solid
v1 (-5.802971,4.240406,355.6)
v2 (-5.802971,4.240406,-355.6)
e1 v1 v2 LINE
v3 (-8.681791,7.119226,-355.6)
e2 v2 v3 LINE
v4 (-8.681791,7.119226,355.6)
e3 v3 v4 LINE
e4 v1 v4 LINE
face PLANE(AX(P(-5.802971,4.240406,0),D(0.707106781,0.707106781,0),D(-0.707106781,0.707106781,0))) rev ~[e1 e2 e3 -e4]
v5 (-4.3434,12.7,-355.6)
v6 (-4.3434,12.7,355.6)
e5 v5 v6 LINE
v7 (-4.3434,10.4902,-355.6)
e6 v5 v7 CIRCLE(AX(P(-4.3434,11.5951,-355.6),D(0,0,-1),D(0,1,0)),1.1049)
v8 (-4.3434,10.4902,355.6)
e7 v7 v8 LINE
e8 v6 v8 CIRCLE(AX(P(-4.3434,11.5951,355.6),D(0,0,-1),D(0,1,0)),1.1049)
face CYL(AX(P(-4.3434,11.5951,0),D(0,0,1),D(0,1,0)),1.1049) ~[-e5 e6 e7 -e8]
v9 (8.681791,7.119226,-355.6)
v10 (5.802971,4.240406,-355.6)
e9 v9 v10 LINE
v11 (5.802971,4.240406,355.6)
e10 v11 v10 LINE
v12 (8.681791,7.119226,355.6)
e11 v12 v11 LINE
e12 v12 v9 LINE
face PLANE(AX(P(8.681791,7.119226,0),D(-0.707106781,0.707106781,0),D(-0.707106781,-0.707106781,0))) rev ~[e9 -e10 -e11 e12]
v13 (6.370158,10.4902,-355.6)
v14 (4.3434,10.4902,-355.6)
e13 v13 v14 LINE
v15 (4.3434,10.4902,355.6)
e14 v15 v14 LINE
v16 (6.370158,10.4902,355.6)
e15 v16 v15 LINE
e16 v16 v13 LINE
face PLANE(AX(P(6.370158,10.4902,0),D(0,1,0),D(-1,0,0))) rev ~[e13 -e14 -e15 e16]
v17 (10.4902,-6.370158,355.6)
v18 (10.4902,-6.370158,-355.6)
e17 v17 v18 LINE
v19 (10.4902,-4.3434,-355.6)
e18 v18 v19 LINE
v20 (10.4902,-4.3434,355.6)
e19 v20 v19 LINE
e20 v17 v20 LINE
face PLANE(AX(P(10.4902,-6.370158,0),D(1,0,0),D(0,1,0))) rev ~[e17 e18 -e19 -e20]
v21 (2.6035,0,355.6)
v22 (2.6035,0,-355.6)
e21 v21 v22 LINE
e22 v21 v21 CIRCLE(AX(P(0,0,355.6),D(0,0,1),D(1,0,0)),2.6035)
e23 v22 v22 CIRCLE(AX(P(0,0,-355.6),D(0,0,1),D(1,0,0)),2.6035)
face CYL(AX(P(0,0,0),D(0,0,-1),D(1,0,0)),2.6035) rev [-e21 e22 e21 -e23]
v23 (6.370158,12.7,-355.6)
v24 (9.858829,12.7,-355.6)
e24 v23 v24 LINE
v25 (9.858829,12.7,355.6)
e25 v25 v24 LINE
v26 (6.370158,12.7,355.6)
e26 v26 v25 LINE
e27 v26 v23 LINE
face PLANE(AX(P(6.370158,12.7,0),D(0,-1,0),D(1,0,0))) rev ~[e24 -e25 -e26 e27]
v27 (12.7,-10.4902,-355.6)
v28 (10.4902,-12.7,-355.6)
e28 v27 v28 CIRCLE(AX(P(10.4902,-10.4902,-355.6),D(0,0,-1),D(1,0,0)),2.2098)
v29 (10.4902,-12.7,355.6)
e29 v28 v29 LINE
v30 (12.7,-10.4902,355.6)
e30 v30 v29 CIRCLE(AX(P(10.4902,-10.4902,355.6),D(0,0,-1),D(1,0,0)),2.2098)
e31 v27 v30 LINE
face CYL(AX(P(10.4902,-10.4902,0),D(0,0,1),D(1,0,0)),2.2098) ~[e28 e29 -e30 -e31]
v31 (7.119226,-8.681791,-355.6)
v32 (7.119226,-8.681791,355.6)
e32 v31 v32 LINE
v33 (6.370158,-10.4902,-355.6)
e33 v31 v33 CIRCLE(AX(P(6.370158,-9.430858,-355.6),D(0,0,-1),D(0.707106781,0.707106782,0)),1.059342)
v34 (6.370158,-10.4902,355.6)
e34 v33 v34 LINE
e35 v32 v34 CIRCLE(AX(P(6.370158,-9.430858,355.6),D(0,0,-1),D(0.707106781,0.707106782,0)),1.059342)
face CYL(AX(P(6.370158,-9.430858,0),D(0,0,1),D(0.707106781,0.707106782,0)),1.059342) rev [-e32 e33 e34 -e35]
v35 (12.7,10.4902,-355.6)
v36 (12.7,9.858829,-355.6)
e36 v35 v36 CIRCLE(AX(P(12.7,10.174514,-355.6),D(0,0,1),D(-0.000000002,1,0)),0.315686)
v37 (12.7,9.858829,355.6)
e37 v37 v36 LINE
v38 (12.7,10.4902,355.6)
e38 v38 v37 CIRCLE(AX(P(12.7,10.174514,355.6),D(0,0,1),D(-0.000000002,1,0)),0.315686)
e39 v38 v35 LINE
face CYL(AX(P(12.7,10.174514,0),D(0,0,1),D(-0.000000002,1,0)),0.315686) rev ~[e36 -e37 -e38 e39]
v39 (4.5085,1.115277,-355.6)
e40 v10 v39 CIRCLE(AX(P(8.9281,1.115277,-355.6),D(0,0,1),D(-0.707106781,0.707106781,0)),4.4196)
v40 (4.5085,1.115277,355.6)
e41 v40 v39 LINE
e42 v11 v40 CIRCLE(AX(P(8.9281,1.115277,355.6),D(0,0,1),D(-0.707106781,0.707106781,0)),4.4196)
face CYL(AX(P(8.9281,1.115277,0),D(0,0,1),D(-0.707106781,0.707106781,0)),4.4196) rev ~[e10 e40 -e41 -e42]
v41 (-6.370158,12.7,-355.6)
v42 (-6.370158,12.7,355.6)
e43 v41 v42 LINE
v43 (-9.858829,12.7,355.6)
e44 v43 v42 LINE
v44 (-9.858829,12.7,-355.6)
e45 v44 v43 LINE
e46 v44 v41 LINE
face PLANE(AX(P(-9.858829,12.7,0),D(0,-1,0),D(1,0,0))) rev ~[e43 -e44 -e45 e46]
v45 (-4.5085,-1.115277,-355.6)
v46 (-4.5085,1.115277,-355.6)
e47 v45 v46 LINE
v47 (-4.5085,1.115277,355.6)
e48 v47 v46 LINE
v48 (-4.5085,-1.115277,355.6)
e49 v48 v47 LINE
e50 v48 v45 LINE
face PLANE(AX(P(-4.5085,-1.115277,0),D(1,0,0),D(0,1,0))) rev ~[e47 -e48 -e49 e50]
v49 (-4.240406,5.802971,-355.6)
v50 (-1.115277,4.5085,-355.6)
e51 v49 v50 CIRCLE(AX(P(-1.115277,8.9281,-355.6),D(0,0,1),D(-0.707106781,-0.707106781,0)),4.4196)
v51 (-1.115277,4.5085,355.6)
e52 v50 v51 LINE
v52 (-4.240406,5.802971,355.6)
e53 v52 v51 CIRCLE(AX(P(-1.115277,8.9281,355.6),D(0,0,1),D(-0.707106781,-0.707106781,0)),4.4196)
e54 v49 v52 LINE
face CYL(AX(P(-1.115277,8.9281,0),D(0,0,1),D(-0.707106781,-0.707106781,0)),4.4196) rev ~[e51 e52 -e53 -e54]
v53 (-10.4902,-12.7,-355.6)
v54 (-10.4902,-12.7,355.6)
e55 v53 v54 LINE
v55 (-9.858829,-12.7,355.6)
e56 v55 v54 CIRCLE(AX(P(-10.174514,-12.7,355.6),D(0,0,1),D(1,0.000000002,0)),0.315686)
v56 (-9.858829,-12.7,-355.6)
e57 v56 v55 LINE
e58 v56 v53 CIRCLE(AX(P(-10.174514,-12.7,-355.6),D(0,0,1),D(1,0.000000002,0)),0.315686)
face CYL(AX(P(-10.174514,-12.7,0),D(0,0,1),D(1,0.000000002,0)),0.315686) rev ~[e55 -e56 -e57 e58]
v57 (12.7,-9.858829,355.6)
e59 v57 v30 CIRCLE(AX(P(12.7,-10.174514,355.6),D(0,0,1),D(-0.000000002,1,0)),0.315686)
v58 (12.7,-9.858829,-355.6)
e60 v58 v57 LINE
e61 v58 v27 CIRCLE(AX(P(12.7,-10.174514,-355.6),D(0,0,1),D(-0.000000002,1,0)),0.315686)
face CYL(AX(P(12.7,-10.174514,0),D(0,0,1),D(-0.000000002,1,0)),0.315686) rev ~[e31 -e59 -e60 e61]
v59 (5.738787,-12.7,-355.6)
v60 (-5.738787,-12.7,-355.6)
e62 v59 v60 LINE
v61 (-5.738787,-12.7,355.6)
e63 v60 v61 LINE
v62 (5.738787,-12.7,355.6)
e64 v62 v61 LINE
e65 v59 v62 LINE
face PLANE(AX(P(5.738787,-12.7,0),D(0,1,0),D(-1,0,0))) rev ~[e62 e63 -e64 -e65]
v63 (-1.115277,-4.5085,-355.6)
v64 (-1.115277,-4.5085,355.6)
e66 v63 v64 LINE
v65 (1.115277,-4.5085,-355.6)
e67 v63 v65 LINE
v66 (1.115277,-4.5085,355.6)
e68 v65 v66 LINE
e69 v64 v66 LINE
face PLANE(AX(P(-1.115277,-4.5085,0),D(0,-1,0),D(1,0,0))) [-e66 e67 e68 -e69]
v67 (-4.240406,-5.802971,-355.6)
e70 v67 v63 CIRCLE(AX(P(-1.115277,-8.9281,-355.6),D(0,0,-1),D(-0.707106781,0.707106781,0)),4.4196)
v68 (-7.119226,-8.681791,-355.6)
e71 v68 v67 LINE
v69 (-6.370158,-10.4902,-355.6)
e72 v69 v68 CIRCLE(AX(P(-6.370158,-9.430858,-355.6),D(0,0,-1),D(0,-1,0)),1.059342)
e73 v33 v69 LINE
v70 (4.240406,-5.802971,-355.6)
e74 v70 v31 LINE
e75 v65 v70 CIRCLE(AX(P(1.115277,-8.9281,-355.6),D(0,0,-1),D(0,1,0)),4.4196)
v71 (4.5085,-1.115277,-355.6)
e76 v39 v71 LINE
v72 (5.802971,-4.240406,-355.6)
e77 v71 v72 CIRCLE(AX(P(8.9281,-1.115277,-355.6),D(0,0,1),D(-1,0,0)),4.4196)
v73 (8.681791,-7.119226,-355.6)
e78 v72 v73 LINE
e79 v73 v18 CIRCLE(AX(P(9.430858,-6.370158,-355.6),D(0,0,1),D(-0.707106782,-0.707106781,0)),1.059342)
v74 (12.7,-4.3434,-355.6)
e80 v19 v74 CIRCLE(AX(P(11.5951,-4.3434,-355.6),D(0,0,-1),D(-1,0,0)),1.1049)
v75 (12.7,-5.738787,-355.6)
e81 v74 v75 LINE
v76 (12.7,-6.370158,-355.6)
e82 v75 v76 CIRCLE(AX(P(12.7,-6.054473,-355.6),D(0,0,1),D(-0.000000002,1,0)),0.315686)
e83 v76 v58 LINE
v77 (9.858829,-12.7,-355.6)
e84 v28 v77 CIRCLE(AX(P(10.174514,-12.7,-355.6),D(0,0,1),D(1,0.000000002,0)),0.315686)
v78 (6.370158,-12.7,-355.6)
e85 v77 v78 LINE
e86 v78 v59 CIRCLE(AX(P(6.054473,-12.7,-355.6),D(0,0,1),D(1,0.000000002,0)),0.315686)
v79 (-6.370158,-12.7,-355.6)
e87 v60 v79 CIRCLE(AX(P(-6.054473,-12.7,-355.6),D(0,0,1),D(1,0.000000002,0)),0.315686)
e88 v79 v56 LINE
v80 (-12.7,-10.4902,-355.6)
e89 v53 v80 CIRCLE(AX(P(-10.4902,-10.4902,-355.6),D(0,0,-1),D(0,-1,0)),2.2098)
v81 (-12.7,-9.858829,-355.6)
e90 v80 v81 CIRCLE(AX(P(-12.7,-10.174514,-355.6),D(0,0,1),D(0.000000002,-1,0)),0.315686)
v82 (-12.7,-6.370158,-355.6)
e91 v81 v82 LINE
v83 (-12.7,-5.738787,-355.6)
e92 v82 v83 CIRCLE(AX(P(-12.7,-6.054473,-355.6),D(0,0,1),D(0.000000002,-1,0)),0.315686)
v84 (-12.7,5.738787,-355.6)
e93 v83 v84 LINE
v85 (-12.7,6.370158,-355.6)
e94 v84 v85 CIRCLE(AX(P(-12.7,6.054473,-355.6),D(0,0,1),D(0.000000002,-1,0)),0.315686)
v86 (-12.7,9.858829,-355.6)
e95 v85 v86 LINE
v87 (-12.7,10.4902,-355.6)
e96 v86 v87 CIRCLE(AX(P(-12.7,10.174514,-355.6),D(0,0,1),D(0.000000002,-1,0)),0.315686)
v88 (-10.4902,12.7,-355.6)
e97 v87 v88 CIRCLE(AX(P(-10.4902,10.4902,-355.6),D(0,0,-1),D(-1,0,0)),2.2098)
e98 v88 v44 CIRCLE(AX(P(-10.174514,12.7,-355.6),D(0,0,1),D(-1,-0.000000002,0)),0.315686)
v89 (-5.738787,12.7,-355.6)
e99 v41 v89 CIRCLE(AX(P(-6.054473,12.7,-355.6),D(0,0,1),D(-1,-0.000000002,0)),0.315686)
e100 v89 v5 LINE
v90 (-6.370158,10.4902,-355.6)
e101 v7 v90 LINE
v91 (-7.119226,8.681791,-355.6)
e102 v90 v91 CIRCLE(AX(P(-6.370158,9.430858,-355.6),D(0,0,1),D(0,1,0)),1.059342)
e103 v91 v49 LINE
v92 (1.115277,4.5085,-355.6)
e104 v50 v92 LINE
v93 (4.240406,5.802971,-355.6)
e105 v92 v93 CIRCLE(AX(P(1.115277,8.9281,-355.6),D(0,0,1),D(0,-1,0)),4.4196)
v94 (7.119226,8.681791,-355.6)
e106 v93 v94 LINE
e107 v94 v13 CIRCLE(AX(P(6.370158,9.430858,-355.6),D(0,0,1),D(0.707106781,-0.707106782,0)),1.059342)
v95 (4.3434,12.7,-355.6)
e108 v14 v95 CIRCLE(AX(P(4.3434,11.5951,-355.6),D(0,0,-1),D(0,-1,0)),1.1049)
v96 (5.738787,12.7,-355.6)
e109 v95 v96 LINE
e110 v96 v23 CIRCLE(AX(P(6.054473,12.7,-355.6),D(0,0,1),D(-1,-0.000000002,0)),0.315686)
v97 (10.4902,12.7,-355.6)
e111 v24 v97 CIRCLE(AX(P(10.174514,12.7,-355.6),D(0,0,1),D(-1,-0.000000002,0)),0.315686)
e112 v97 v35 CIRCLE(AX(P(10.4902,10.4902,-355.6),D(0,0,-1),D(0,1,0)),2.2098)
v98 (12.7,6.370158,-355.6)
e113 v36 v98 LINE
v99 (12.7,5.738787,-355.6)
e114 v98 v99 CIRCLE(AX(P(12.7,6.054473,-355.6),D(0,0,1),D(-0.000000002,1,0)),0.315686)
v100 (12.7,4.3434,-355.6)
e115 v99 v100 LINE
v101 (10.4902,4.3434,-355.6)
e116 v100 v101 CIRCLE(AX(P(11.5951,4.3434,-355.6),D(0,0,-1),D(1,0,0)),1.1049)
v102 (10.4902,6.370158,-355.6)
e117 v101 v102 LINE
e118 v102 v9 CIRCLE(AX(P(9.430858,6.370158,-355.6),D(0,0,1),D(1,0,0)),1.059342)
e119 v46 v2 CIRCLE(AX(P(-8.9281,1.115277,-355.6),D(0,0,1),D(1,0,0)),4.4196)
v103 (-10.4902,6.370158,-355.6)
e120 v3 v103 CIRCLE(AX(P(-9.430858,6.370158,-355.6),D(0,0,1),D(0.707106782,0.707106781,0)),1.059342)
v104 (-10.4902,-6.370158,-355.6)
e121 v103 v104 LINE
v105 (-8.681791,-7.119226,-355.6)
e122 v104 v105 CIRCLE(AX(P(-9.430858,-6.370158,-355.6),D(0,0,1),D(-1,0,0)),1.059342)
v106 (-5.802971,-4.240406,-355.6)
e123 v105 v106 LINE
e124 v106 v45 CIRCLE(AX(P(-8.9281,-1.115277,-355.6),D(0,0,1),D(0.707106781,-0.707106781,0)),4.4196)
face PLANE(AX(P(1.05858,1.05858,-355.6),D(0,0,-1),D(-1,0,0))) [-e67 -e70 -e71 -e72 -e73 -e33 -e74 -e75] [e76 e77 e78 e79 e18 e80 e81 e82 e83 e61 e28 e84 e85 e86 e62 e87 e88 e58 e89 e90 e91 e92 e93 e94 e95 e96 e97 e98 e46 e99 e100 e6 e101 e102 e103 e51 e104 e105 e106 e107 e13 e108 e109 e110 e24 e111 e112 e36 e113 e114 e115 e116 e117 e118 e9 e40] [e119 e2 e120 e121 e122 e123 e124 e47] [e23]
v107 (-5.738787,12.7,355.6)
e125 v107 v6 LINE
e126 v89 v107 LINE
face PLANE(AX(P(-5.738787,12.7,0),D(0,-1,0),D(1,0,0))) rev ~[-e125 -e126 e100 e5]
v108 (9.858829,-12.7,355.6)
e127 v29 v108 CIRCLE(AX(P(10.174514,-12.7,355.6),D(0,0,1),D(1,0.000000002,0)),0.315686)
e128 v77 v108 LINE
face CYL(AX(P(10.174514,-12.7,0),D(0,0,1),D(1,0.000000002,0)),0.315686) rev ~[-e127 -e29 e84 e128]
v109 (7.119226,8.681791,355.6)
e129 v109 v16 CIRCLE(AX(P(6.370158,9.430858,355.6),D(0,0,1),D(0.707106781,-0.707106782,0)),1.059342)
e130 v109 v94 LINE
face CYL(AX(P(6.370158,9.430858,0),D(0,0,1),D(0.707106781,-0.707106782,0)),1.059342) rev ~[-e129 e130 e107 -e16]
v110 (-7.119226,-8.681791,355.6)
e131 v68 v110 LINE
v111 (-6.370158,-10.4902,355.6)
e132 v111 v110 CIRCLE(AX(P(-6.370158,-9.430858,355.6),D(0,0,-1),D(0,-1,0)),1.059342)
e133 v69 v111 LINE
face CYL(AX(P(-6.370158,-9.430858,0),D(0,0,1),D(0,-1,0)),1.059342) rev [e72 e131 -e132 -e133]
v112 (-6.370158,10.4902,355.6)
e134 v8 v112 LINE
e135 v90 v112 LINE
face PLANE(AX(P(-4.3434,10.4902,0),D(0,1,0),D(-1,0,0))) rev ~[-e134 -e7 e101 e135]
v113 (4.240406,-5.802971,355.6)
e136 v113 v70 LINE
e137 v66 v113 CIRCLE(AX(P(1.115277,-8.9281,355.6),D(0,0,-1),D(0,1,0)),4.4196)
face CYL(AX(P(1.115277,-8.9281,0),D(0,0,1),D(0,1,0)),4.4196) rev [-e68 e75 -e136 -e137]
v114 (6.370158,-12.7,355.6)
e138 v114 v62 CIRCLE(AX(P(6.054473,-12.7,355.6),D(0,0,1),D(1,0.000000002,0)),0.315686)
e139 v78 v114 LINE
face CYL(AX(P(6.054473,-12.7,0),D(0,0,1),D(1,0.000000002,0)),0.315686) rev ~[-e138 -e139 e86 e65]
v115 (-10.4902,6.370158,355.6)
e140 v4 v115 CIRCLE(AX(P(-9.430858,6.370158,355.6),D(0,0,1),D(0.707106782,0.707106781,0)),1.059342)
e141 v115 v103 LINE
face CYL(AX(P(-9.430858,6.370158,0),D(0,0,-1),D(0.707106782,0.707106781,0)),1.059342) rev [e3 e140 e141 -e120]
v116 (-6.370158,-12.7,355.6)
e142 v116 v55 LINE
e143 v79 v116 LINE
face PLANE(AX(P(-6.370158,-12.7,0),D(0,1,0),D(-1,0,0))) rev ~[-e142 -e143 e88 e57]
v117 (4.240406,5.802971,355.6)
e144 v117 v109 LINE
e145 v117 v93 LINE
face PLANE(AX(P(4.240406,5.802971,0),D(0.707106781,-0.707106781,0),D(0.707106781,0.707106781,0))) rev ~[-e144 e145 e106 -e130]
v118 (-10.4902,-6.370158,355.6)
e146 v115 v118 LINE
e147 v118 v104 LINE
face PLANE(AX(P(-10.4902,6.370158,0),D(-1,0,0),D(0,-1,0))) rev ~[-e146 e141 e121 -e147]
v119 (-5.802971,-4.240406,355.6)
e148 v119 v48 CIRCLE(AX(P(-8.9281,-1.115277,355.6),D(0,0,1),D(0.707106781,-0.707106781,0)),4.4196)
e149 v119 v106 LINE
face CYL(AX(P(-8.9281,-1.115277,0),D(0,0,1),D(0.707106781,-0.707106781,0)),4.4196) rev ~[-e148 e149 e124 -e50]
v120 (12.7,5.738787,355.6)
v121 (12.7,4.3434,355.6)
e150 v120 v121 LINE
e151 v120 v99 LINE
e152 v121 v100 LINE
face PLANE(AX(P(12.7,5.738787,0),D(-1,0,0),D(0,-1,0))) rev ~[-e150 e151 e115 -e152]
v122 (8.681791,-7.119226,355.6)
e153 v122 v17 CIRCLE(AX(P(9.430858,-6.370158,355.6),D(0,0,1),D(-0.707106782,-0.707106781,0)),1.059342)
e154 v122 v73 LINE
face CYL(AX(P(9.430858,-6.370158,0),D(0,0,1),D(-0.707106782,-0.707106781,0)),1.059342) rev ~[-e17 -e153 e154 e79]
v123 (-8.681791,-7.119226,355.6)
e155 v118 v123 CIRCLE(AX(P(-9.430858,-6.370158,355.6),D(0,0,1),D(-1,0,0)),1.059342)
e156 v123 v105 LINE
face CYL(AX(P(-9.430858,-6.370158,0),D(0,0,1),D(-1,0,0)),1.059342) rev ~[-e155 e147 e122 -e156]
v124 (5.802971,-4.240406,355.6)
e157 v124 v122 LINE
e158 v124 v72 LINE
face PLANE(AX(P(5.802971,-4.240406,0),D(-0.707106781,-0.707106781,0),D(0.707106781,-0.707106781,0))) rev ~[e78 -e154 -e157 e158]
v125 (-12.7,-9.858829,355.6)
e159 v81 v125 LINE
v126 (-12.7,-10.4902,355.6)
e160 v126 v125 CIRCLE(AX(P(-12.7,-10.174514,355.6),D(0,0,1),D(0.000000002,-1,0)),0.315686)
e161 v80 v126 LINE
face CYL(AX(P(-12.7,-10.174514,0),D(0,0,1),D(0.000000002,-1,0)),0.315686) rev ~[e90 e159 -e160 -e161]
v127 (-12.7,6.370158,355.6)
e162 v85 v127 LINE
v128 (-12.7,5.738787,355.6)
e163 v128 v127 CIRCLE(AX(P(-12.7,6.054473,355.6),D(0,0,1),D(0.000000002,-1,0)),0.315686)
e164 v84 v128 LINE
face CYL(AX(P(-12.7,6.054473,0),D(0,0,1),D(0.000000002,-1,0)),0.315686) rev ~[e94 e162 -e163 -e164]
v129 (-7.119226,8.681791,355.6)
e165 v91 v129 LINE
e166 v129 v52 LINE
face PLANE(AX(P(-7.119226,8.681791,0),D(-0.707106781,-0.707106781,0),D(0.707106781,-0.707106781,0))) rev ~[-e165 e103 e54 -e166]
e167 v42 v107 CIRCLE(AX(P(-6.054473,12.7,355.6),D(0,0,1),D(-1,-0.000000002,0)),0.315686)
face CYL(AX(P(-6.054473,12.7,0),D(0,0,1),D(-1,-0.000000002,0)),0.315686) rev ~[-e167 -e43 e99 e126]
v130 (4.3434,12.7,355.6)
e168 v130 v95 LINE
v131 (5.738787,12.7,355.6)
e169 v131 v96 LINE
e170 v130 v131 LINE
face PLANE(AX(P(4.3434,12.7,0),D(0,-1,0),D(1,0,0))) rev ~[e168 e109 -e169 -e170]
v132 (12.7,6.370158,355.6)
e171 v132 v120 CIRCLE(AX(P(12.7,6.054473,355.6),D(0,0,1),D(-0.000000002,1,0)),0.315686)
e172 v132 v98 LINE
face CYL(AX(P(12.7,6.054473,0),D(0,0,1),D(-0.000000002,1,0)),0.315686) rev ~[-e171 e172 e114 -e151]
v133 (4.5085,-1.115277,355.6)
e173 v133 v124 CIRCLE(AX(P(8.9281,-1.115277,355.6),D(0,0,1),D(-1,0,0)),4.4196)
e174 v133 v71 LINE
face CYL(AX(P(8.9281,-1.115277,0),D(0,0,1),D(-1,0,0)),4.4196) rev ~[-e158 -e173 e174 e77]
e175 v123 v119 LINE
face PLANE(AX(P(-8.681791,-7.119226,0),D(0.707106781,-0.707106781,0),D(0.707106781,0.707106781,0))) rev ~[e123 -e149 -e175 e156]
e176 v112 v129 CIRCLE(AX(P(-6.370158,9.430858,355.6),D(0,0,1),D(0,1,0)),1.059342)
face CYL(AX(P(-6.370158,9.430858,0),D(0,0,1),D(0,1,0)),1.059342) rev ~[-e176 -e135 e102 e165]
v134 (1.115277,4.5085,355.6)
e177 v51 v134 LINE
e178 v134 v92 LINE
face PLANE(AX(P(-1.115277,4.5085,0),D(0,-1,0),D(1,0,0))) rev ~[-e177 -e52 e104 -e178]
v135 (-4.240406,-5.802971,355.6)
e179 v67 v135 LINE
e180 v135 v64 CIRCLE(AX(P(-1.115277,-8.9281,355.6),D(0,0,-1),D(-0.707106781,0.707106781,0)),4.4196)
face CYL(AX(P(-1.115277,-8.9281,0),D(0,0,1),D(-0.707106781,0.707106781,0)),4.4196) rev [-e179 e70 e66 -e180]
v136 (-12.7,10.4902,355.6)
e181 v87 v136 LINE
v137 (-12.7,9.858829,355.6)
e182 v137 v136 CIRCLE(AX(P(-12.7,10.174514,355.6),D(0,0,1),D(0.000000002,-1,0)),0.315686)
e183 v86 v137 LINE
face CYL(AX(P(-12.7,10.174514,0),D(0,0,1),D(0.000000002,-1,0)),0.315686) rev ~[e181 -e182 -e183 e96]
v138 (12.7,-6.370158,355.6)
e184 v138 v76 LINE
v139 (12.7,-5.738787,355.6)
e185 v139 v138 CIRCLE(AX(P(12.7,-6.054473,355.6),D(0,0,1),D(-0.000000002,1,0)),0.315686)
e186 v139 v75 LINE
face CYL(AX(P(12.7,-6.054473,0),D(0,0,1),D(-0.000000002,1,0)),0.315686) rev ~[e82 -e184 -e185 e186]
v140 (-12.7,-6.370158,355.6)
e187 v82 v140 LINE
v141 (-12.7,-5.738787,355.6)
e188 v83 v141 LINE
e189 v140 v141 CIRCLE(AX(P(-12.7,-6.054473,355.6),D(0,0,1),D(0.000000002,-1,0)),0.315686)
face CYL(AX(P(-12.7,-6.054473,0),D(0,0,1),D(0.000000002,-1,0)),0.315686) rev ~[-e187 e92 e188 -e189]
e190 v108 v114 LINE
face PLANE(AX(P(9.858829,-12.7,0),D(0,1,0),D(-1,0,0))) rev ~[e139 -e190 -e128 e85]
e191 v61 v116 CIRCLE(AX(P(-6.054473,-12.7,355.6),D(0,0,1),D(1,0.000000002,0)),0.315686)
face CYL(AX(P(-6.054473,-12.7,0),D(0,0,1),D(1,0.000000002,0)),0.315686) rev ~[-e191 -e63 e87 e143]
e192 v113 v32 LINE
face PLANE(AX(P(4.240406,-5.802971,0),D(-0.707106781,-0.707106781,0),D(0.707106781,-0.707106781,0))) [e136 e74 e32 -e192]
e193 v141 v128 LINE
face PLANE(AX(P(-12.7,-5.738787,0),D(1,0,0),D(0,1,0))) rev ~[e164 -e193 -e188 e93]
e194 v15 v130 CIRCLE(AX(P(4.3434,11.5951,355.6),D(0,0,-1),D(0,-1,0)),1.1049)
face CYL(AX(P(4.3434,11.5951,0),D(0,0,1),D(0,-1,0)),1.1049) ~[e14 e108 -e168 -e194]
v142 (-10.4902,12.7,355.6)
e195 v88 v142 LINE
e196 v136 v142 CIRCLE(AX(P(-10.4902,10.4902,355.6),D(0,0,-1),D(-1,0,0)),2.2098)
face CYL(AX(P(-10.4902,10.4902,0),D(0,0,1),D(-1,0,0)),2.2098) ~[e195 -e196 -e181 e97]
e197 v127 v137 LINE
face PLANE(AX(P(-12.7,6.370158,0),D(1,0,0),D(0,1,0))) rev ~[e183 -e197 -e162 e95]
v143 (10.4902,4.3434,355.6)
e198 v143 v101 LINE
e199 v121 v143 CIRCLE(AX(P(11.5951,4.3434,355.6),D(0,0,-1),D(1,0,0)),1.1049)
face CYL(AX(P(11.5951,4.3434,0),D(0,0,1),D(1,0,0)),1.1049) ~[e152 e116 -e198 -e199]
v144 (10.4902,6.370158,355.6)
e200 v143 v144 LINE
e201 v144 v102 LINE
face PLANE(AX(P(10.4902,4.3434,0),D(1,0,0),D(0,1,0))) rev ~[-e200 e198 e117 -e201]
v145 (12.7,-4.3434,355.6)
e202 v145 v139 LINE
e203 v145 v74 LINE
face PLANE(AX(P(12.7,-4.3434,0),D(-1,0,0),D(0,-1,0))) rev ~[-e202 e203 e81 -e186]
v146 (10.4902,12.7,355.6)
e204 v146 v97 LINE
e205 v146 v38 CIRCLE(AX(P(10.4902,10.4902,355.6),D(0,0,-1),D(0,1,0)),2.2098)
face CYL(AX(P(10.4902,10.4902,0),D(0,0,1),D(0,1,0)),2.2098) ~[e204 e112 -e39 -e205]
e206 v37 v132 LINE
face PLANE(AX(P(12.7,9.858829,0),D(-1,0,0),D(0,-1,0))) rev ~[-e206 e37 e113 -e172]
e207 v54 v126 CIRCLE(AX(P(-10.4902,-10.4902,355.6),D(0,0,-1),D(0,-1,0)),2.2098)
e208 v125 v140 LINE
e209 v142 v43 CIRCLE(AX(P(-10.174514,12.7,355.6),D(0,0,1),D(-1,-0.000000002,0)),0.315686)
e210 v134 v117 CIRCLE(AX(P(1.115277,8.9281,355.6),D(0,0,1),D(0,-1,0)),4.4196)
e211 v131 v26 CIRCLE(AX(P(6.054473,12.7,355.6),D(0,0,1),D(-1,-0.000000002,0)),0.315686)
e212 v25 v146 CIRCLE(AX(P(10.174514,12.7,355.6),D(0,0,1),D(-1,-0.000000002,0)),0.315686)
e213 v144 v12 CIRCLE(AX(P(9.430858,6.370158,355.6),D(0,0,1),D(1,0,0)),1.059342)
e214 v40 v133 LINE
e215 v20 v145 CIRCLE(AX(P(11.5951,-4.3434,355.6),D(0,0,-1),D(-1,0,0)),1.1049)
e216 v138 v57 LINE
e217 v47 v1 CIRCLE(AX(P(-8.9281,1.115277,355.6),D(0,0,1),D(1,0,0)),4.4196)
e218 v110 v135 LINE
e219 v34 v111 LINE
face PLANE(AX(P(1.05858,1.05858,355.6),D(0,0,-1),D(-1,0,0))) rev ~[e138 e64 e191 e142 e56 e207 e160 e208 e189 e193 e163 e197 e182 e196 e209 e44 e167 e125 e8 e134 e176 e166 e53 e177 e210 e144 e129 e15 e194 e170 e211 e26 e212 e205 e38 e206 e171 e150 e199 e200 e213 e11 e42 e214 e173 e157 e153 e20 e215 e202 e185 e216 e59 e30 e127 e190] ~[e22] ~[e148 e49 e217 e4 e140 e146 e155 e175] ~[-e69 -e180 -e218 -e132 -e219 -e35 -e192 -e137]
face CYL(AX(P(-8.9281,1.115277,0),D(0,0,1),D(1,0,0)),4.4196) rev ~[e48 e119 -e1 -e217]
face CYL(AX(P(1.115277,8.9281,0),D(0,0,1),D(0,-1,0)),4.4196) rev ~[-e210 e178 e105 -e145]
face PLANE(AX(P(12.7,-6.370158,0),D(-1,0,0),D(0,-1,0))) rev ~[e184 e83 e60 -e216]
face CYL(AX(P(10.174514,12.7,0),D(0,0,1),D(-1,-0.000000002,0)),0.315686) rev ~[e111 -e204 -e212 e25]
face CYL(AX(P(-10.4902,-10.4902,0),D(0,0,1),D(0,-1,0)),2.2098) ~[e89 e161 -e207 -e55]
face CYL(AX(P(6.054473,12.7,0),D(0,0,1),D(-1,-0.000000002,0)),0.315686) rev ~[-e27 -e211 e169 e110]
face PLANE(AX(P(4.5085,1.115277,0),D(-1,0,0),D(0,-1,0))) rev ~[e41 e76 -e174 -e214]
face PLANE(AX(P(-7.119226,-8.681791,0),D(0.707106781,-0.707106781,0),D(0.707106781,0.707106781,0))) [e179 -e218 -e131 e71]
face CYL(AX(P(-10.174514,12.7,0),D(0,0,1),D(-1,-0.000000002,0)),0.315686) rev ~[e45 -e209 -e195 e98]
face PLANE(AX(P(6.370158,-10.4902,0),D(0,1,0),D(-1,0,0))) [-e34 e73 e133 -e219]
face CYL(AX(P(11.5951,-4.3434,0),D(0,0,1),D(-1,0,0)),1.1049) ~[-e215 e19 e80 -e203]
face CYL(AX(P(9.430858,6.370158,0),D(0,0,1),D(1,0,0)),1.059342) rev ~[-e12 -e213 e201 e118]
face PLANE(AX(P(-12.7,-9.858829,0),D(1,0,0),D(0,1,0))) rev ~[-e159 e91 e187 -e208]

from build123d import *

# Parameters (mm, degrees)
SKETCH3_R      = 2.6035
EXTRUDE1_DEPTH = 355.6


with BuildPart() as part:
    # Sketch3 → Extrude1 (new, symmetric)
    with BuildSketch(Plane.XY):
        with BuildLine():
            Line((-1.115277175, 4.5085), (1.115277175, 4.5085))
            ThreePointArc((1.115277175, 4.5085), (2.806584872, 4.844922018), (4.240406305, 5.80297087))
            Line((4.240406305, 5.80297087), (7.119225992, 8.681790557))
            ThreePointArc((7.119225992, 8.681790557), (7.348862413, 9.836250802), (6.370158275, 10.4902))
            Line((6.370158275, 10.4902), (4.3434, 10.4902))
            ThreePointArc((4.3434, 10.4902), (3.2385, 11.5951), (4.3434, 12.7))
            Line((4.3434, 12.7), (5.738786846, 12.7))
            ThreePointArc((5.738786846, 12.7), (6.054472561, 12.384314286), (6.370158275, 12.7))
            Line((6.370158275, 12.7), (9.858828571, 12.7))
            ThreePointArc((9.858828571, 12.7), (10.174514286, 12.384314286), (10.4902, 12.7))
            ThreePointArc((10.4902, 12.7), (12.052764565, 12.052764565), (12.7, 10.4902))
            ThreePointArc((12.7, 10.4902), (12.384314286, 10.174514286), (12.7, 9.858828571))
            Line((12.7, 9.858828571), (12.7, 6.370158275))
            ThreePointArc((12.7, 6.370158275), (12.384314286, 6.054472561), (12.7, 5.738786846))
            Line((12.7, 5.738786846), (12.7, 4.3434))
            ThreePointArc((12.7, 4.3434), (11.5951, 3.2385), (10.4902, 4.3434))
            Line((10.4902, 4.3434), (10.4902, 6.370158275))
            ThreePointArc((10.4902, 6.370158275), (9.836250802, 7.348862413), (8.681790557, 7.119225992))
            Line((8.681790557, 7.119225992), (5.80297087, 4.240406305))
            ThreePointArc((5.80297087, 4.240406305), (4.844922018, 2.806584872), (4.5085, 1.115277175))
            Line((4.5085, 1.115277175), (4.5085, -1.115277175))
            ThreePointArc((4.5085, -1.115277175), (4.844922018, -2.806584872), (5.80297087, -4.240406305))
            Line((5.80297087, -4.240406305), (8.681790557, -7.119225992))
            ThreePointArc((8.681790557, -7.119225992), (9.836250802, -7.348862413), (10.4902, -6.370158275))
            Line((10.4902, -6.370158275), (10.4902, -4.3434))
            ThreePointArc((10.4902, -4.3434), (11.5951, -3.2385), (12.7, -4.3434))
            Line((12.7, -4.3434), (12.7, -5.738786846))
            ThreePointArc((12.7, -5.738786846), (12.384314286, -6.054472561), (12.7, -6.370158275))
            Line((12.7, -6.370158275), (12.7, -9.858828571))
            ThreePointArc((12.7, -9.858828571), (12.384314286, -10.174514286), (12.7, -10.4902))
            ThreePointArc((12.7, -10.4902), (12.052764565, -12.052764565), (10.4902, -12.7))
            ThreePointArc((10.4902, -12.7), (10.174514286, -12.384314286), (9.858828571, -12.7))
            Line((9.858828571, -12.7), (6.370158275, -12.7))
            ThreePointArc((6.370158275, -12.7), (6.054472561, -12.384314286), (5.738786846, -12.7))
            Line((5.738786846, -12.7), (4.3434, -12.7))
            Line((4.3434, -12.7), (-5.738786846, -12.7))
            ThreePointArc((-5.738786846, -12.7), (-6.054472561, -12.384314286), (-6.370158275, -12.7))
            Line((-6.370158275, -12.7), (-9.858828571, -12.7))
            ThreePointArc((-9.858828571, -12.7), (-10.174514286, -12.384314286), (-10.4902, -12.7))
            ThreePointArc((-10.4902, -12.7), (-12.052764565, -12.052764565), (-12.7, -10.4902))
            ThreePointArc((-12.7, -10.4902), (-12.384314286, -10.174514286), (-12.7, -9.858828571))
            Line((-12.7, -9.858828571), (-12.7, -6.370158275))
            ThreePointArc((-12.7, -6.370158275), (-12.384314286, -6.054472561), (-12.7, -5.738786846))
            Line((-12.7, -5.738786846), (-12.7, 0))
            Line((-12.7, 0), (-12.7, 5.738786846))
            ThreePointArc((-12.7, 5.738786846), (-12.384314286, 6.054472561), (-12.7, 6.370158275))
            Line((-12.7, 6.370158275), (-12.7, 9.858828571))
            ThreePointArc((-12.7, 9.858828571), (-12.384314286, 10.174514286), (-12.7, 10.4902))
            ThreePointArc((-12.7, 10.4902), (-12.052764565, 12.052764565), (-10.4902, 12.7))
            ThreePointArc((-10.4902, 12.7), (-10.174514286, 12.384314286), (-9.858828571, 12.7))
            Line((-9.858828571, 12.7), (-6.370158275, 12.7))
            ThreePointArc((-6.370158275, 12.7), (-6.054472561, 12.384314286), (-5.738786846, 12.7))
            Line((-5.738786846, 12.7), (-4.3434, 12.7))
            ThreePointArc((-4.3434, 12.7), (-3.2385, 11.5951), (-4.3434, 10.4902))
            Line((-4.3434, 10.4902), (-6.370158275, 10.4902))
            ThreePointArc((-6.370158275, 10.4902), (-7.348862413, 9.836250802), (-7.119225992, 8.681790557))
            Line((-7.119225992, 8.681790557), (-4.240406305, 5.80297087))
            ThreePointArc((-4.240406305, 5.80297087), (-2.806584872, 4.844922018), (-1.115277175, 4.5085))
        make_face()
        Circle(SKETCH3_R, mode=Mode.SUBTRACT)
        with BuildLine():
            Line((-4.5085, -1.115277175), (-4.5085, 1.115277175))
            ThreePointArc((-4.5085, 1.115277175), (-4.844922018, 2.806584872), (-5.80297087, 4.240406305))
            Line((-5.80297087, 4.240406305), (-8.681790557, 7.119225992))
            ThreePointArc((-8.681790557, 7.119225992), (-9.836250802, 7.348862413), (-10.4902, 6.370158275))
            Line((-10.4902, 6.370158275), (-10.4902, 0))
            Line((-10.4902, 0), (-10.4902, -6.370158275))
            ThreePointArc((-10.4902, -6.370158275), (-9.836250802, -7.348862413), (-8.681790557, -7.119225992))
            Line((-8.681790557, -7.119225992), (-5.80297087, -4.240406305))
            ThreePointArc((-5.80297087, -4.240406305), (-4.844922018, -2.806584872), (-4.5085, -1.115277175))
        make_face(mode=Mode.SUBTRACT)
        with BuildLine():
            Line((4.240406305, -5.80297087), (7.119225992, -8.681790557))
            ThreePointArc((7.119225992, -8.681790557), (7.348862413, -9.836250802), (6.370158275, -10.4902))
            Line((6.370158275, -10.4902), (4.3434, -10.4902))
            Line((4.3434, -10.4902), (-6.370158275, -10.4902))
            ThreePointArc((-6.370158275, -10.4902), (-7.348862413, -9.836250802), (-7.119225992, -8.681790557))
            Line((-7.119225992, -8.681790557), (-4.240406305, -5.80297087))
            ThreePointArc((-4.240406305, -5.80297087), (-2.806584872, -4.844922018), (-1.115277175, -4.5085))
            Line((-1.115277175, -4.5085), (1.115277175, -4.5085))
            ThreePointArc((1.115277175, -4.5085), (2.806584872, -4.844922018), (4.240406305, -5.80297087))
        make_face(mode=Mode.SUBTRACT)
    extrude(amount=EXTRUDE1_DEPTH, both=True)


solid = part.part
